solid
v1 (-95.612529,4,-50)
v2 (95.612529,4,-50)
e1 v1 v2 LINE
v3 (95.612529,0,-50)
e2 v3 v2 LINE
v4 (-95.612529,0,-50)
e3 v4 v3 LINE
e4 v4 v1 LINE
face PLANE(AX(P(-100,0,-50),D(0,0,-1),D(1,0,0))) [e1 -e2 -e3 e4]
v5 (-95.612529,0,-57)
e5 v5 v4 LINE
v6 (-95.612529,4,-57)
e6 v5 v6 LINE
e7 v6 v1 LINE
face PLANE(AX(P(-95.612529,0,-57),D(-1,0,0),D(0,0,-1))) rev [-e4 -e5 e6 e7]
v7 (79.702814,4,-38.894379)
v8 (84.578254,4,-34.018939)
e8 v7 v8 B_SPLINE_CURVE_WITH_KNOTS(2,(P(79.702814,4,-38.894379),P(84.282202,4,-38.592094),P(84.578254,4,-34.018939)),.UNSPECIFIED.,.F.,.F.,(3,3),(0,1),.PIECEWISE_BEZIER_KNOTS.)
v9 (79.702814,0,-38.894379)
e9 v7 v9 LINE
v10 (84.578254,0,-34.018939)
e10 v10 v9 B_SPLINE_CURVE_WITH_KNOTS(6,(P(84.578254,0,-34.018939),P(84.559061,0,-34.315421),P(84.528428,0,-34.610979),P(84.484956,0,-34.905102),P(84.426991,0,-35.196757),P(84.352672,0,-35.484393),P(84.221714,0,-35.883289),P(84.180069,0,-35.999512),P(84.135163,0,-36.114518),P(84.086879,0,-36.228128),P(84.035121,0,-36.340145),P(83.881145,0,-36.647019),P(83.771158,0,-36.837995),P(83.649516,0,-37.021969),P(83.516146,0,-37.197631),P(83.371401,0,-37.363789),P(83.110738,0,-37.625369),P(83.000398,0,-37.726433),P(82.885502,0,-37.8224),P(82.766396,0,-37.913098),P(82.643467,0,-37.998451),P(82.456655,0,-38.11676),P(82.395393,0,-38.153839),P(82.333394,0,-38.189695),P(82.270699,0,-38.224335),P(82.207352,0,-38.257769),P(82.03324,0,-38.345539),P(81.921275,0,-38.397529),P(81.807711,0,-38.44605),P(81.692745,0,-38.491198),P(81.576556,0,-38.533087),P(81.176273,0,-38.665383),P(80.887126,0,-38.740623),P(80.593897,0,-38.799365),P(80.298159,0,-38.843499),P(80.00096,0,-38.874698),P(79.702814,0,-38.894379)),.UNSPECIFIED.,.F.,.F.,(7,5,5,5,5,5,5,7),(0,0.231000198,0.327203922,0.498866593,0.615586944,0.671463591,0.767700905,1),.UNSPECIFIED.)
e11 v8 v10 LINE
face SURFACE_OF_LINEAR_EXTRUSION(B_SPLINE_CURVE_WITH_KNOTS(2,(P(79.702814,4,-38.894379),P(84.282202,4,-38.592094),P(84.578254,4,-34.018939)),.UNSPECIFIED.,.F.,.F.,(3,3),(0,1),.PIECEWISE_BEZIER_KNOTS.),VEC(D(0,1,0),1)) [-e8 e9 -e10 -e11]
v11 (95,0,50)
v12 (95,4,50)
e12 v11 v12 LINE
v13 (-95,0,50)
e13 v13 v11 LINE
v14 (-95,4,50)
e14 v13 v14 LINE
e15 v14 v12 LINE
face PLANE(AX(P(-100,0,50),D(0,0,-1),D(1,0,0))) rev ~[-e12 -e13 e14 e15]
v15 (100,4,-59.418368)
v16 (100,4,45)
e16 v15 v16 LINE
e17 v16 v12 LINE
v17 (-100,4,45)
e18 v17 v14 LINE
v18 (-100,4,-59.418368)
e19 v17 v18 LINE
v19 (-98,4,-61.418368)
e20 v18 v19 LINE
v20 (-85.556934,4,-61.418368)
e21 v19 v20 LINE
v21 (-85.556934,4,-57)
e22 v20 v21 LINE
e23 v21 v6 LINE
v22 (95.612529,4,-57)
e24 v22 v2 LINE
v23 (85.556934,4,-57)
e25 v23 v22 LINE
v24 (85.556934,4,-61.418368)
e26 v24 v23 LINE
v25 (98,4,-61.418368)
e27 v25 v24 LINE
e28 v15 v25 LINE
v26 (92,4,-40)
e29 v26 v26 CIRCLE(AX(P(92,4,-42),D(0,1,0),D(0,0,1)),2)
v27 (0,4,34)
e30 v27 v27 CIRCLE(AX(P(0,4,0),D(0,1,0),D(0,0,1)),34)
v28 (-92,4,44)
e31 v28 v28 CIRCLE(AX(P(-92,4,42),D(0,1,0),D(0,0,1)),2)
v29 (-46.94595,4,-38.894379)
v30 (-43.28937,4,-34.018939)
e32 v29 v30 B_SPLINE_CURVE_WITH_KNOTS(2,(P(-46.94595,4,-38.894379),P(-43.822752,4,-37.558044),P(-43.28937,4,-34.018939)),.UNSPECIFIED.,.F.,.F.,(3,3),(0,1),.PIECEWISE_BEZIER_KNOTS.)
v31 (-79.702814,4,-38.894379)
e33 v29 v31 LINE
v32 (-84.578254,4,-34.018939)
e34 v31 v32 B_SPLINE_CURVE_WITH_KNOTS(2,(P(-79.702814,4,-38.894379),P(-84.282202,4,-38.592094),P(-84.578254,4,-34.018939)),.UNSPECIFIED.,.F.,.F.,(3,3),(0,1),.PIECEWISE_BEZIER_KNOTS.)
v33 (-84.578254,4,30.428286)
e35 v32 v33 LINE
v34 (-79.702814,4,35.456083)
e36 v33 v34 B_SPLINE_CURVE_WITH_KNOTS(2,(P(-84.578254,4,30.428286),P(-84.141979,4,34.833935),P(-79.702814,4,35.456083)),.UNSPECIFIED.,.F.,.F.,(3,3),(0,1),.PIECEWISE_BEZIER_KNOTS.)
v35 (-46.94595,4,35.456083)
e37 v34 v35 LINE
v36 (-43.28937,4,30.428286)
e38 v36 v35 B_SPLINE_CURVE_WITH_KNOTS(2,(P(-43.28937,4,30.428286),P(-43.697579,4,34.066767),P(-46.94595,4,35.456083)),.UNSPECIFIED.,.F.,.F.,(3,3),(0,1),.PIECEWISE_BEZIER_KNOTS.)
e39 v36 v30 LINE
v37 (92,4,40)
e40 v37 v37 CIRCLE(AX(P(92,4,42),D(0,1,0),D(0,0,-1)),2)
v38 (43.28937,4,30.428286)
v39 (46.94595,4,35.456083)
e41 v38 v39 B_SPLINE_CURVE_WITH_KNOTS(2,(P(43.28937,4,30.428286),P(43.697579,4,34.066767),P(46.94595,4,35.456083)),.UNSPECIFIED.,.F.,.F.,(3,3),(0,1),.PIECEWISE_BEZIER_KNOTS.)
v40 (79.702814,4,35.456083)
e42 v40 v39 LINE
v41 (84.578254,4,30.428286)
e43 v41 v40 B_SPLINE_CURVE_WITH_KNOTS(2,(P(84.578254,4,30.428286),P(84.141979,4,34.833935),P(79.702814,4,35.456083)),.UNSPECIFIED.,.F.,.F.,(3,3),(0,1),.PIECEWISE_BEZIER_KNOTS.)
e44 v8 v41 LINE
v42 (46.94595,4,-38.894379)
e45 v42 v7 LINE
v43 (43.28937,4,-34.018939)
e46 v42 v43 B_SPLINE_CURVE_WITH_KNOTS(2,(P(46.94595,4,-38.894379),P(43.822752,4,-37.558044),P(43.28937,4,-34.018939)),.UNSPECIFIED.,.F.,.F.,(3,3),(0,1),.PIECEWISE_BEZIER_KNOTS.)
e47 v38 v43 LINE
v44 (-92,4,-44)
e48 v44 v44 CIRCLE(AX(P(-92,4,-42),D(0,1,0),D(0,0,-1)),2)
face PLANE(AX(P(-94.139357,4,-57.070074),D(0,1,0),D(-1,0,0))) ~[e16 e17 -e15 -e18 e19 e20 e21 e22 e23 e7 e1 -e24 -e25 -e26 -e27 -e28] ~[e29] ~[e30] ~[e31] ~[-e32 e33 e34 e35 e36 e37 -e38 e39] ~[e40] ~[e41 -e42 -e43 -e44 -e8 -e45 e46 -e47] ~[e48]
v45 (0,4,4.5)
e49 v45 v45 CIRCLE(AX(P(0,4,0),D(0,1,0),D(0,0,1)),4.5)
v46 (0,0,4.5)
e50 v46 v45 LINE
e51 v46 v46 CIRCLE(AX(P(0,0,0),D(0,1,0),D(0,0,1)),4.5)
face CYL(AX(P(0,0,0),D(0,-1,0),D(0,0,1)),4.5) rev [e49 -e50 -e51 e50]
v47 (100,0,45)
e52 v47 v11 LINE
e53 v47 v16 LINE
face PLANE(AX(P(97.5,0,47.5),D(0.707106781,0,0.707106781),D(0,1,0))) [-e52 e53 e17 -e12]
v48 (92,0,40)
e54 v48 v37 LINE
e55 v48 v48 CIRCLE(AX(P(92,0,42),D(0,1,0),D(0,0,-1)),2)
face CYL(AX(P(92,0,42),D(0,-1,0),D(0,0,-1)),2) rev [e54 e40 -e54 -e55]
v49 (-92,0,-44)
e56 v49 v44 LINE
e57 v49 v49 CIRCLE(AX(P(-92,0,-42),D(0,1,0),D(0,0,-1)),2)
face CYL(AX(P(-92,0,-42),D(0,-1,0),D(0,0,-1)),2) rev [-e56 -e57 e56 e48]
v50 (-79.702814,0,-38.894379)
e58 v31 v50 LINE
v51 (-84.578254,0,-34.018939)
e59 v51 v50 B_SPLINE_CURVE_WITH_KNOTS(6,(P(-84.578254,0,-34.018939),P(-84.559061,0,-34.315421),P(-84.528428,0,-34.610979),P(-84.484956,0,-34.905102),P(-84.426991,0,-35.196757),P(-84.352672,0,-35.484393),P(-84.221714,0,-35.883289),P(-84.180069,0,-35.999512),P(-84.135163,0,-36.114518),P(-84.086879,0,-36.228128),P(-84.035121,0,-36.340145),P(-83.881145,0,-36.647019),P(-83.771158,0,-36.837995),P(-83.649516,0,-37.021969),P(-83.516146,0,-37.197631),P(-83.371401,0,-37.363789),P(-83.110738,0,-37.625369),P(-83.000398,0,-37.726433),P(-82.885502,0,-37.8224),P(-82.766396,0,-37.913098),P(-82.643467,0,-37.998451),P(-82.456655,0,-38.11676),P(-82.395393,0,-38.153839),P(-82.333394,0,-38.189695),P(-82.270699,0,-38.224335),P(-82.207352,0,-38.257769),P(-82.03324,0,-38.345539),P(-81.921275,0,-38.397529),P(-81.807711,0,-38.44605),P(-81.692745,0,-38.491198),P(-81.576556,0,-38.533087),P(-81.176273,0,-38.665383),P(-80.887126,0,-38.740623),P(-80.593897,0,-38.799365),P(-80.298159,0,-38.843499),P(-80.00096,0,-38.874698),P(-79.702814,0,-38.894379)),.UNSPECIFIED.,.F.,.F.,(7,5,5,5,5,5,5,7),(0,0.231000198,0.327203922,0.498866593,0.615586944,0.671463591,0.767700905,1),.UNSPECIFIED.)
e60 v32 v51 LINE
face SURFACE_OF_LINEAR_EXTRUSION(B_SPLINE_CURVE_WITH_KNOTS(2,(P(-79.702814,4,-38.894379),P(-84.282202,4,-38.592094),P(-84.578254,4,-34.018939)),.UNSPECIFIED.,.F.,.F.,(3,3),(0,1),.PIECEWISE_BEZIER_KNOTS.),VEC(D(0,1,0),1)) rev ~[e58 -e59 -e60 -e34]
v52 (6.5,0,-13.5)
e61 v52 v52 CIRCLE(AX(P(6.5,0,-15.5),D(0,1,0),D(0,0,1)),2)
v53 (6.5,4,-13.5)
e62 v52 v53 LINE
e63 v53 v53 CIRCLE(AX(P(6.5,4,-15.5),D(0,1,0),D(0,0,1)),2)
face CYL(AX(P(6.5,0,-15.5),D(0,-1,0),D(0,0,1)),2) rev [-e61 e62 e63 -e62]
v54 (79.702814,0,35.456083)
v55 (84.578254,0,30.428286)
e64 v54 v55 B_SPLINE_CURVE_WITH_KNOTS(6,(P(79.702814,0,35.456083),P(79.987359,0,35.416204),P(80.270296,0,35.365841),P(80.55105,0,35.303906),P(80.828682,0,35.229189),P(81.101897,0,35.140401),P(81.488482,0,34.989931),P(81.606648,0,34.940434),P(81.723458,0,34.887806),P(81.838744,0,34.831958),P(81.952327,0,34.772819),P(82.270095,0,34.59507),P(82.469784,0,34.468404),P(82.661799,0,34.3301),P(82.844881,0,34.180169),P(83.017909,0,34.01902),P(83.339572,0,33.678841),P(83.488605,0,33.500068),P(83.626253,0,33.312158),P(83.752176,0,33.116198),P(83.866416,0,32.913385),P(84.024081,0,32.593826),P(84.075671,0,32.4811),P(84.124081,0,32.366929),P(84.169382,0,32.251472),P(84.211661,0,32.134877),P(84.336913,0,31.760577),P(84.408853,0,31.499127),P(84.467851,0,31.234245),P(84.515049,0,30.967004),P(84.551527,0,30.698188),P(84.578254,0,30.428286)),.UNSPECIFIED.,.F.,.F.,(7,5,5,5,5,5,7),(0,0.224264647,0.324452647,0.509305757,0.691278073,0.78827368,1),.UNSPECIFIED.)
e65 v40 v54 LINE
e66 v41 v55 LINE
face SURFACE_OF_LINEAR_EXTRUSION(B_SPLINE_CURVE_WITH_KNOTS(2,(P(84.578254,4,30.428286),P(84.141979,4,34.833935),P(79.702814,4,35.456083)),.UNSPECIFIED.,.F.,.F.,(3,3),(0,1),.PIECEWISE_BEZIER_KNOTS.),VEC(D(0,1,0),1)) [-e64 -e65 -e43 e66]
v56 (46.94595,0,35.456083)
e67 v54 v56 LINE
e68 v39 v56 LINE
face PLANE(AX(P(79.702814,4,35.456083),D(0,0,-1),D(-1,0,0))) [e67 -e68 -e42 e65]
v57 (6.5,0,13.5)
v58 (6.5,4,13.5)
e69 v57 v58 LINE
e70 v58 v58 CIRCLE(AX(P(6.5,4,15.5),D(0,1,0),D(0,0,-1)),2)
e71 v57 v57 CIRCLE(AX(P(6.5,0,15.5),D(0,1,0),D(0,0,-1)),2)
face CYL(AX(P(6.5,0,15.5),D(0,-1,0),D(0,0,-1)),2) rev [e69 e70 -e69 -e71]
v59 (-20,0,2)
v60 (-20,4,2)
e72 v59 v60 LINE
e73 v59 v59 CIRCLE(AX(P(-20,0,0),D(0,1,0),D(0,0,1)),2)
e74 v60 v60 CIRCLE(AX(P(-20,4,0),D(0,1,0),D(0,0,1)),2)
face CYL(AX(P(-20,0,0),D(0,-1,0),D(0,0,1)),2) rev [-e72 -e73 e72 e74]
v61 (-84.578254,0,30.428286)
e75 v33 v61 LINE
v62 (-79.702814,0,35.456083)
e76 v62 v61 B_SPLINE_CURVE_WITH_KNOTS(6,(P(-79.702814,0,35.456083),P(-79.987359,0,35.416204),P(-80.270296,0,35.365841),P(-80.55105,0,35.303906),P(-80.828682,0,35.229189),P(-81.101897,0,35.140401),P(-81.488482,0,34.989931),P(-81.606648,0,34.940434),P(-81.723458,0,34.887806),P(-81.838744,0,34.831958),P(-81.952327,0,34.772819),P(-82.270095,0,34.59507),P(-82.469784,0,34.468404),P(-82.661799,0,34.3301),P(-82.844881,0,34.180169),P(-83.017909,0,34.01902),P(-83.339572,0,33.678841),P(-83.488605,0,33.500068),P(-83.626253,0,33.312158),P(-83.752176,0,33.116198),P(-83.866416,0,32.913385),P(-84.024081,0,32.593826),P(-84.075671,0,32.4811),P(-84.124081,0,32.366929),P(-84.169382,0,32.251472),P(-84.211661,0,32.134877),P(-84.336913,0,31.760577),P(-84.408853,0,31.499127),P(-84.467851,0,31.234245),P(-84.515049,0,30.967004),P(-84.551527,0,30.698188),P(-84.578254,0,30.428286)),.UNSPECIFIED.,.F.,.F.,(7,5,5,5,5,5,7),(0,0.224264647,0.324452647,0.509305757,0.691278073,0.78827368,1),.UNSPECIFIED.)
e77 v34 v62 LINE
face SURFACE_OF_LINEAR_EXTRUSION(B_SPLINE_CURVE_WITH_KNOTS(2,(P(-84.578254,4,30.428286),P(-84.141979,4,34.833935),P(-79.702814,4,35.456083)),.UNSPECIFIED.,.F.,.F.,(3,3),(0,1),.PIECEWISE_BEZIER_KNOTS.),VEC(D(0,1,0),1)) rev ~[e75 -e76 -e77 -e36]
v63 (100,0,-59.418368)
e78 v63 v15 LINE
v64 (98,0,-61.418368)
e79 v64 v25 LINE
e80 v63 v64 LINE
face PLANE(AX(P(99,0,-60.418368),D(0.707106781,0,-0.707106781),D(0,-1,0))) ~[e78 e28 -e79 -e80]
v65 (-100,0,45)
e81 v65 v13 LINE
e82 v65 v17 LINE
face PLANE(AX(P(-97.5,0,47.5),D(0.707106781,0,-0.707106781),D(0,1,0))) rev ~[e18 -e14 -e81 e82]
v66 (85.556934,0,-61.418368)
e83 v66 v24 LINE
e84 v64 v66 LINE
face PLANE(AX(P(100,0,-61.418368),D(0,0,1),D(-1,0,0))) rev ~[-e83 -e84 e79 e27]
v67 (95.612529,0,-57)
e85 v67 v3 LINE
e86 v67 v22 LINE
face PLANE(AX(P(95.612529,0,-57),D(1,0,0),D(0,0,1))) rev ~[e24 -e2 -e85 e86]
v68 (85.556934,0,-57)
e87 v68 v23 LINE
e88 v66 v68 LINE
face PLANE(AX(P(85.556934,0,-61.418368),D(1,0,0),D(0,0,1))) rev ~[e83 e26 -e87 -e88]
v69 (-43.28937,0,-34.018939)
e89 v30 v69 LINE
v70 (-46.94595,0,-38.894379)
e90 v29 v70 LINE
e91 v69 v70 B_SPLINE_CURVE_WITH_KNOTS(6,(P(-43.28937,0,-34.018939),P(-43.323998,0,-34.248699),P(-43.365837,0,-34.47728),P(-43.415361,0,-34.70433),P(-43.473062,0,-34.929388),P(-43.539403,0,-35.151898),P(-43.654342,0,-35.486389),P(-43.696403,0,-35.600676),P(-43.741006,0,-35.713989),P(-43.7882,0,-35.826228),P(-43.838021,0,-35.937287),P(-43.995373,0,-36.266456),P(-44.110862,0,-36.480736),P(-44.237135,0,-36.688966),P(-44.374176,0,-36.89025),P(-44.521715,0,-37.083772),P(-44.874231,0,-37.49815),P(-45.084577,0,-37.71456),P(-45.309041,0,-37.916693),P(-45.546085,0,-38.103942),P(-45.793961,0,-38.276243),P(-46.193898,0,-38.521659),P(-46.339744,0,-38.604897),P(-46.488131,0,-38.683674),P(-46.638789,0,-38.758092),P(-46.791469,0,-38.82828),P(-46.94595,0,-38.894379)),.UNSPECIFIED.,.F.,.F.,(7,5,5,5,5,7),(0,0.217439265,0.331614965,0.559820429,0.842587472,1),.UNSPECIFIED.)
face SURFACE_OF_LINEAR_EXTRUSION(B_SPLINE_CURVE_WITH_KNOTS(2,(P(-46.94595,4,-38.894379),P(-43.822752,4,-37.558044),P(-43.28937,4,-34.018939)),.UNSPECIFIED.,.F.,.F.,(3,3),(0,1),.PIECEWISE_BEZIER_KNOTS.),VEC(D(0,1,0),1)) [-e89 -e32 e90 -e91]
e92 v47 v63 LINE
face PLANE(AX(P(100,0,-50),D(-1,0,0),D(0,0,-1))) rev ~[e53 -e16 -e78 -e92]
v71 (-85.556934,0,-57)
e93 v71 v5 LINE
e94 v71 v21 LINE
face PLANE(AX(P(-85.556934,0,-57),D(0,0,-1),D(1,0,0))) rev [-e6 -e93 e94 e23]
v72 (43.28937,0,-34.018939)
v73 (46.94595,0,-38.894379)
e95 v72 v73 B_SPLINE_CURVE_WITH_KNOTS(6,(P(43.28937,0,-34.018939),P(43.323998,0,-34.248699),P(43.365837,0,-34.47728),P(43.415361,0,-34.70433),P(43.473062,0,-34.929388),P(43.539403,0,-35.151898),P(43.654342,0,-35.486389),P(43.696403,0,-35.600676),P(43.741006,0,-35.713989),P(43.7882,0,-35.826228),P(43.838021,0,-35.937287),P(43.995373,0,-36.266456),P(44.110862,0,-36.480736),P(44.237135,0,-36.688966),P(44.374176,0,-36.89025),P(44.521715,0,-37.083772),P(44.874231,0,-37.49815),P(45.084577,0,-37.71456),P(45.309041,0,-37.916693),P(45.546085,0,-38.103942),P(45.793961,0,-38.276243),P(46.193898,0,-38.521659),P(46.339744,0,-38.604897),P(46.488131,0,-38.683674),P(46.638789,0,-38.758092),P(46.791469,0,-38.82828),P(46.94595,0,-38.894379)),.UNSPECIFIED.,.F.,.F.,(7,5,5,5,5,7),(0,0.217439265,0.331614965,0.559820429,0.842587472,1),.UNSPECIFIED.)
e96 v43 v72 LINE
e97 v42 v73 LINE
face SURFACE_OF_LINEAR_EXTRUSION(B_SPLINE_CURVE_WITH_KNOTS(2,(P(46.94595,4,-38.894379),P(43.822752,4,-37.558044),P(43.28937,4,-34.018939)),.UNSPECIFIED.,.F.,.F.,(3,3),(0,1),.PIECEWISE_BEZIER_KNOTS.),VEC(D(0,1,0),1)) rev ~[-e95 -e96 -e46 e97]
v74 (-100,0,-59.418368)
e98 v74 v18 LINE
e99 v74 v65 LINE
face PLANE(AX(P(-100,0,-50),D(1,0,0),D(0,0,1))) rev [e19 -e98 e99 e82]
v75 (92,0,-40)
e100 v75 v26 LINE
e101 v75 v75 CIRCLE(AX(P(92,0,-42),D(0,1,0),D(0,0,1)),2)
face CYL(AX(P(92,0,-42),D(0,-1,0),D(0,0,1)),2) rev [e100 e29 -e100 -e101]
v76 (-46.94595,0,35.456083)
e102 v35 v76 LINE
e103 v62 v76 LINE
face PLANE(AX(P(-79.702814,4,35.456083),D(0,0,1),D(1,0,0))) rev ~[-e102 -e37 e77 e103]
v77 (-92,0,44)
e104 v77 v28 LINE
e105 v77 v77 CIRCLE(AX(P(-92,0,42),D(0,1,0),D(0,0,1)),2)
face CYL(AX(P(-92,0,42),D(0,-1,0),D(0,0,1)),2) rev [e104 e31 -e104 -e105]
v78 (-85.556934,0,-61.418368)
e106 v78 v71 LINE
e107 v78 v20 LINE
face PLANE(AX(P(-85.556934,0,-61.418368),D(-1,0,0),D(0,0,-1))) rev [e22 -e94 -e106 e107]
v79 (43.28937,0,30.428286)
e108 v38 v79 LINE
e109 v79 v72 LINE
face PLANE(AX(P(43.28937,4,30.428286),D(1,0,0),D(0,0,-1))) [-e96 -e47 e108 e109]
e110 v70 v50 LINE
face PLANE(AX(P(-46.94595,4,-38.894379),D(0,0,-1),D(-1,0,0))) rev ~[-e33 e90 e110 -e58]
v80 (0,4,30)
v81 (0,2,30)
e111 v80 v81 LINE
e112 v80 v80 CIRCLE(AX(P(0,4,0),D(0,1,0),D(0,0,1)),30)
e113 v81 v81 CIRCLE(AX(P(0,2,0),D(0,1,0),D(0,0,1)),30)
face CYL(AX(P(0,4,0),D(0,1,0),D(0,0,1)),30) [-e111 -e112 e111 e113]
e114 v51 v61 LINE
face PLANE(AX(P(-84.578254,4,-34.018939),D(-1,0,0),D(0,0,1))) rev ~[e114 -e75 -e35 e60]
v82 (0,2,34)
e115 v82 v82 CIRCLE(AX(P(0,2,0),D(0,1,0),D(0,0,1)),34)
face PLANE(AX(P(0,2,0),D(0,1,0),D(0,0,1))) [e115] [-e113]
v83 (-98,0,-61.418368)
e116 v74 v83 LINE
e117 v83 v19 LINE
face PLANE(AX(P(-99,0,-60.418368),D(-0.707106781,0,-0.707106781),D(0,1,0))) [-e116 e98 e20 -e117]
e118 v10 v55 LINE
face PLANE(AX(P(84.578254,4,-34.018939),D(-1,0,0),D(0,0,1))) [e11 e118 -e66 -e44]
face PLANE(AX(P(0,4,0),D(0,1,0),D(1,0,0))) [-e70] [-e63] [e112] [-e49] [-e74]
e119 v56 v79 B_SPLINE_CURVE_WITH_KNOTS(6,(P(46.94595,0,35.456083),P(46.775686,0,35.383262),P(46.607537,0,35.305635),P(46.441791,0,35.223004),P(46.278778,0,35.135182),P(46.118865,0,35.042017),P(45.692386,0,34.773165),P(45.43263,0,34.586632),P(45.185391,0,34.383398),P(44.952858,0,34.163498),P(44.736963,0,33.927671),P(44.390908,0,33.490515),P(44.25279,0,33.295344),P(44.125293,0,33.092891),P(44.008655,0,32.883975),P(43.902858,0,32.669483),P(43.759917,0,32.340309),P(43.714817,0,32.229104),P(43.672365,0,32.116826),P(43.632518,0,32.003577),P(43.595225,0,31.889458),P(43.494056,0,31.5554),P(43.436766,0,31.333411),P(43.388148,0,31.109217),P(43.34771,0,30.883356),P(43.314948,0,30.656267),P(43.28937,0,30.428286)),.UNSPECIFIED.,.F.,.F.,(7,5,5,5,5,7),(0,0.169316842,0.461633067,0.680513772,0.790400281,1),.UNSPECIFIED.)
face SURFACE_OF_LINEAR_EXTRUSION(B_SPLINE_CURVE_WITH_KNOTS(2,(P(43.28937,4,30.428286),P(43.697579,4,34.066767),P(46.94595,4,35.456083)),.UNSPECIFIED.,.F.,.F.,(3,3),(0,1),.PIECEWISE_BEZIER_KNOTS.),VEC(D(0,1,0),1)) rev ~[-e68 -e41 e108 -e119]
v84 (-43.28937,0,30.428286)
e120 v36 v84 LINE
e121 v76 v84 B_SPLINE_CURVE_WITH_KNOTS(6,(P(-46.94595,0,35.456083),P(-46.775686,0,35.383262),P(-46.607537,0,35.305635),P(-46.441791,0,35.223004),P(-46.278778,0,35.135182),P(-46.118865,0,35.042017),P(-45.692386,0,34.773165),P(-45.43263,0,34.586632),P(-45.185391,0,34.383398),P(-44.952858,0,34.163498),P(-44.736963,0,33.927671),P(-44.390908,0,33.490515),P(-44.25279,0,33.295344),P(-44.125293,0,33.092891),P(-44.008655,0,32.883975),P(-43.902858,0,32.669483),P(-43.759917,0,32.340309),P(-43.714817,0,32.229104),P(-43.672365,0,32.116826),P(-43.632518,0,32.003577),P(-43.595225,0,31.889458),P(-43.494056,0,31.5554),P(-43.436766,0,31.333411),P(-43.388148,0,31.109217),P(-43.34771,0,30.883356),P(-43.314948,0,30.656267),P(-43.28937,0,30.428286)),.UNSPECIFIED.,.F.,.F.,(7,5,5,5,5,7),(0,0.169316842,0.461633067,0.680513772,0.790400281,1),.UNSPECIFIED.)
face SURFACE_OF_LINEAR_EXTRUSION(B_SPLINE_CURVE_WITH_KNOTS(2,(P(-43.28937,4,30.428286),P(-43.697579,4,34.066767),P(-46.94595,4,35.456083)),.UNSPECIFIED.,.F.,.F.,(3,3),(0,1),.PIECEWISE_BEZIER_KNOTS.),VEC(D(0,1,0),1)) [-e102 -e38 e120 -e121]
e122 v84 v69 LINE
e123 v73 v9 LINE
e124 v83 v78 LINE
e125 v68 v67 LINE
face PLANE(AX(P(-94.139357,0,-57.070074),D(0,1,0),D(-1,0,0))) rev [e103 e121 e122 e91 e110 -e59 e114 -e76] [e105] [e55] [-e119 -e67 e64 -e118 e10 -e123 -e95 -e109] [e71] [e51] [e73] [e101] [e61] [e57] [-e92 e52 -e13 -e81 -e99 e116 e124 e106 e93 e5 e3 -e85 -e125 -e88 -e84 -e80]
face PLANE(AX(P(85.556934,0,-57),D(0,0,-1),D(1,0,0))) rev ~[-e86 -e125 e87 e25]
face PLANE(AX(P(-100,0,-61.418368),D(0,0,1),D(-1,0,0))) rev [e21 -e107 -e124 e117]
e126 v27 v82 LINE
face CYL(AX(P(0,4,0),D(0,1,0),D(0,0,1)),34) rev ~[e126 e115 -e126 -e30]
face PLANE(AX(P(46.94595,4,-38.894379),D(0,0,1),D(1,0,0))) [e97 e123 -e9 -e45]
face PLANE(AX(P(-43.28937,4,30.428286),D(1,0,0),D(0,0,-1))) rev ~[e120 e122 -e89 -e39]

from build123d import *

# Parameters (mm, degrees)
ESQUISSE2_W             = 200
ESQUISSE2_H             = 100
ESQUISSE2_R             = 4.5
ESQUISSE2_R_2           = 2
BOSS_EXTRU_1_DEPTH      = 4
ESQUISSE3_R             = 34
ESQUISSE3_R_2           = 30
ENL_V_MAT_EXTRU_1_DEPTH = 2
ENL_V_MAT_EXTRU_2_DEPTH = 10
BOSS_EXTRU_2_DEPTH      = 4
CHANFREIN1_SIZE         = 5
CHANFREIN2_SIZE         = 2


with BuildPart() as part:
    # Esquisse2 → Boss.-Extru.1 (new body)
    with BuildSketch(Plane(origin=(0, 0, 0), x_dir=(1, 0, 0), z_dir=(0, 1, 0))):
        Rectangle(ESQUISSE2_W, ESQUISSE2_H)
        with Locations(Location((0, 0, 0), (0, 0, 270))):
            Circle(ESQUISSE2_R, mode=Mode.SUBTRACT)
        with Locations(Location((6.5, 15.5, 0), (0, 0, 270))):
            Circle(ESQUISSE2_R_2, mode=Mode.SUBTRACT)
        with Locations(Location((6.5, -15.5, 0), (0, 0, 90))):
            Circle(ESQUISSE2_R_2, mode=Mode.SUBTRACT)
        with Locations(Location((-20, 0, 0), (0, 0, 270))):
            Circle(ESQUISSE2_R_2, mode=Mode.SUBTRACT)
        with Locations(Location((92, 42, 0), (0, 0, 270))):
            Circle(ESQUISSE2_R_2, mode=Mode.SUBTRACT)
        with Locations(Location((-92, 42, 0), (0, 0, 90))):
            Circle(ESQUISSE2_R_2, mode=Mode.SUBTRACT)
        with Locations(Location((-92, -42, 0), (0, 0, 270))):
            Circle(ESQUISSE2_R_2, mode=Mode.SUBTRACT)
        with Locations(Location((92, -42, 0), (0, 0, 90))):
            Circle(ESQUISSE2_R_2, mode=Mode.SUBTRACT)
    extrude(amount=BOSS_EXTRU_1_DEPTH)

    # Esquisse3 → Enlèv. mat.-Extru.1 (cut)
    with BuildSketch(Plane(origin=(0, 4, 0), x_dir=(1, 0, 0), z_dir=(0, 1, 0))):
        with Locations(Location((0, 0, 0), (0, 0, 270))):
            Circle(ESQUISSE3_R)
        with Locations(Location((0, 0, 0), (0, 0, 270))):
            Circle(ESQUISSE3_R_2, mode=Mode.SUBTRACT)
    extrude(amount=-ENL_V_MAT_EXTRU_1_DEPTH, mode=Mode.SUBTRACT)

    # Esquisse4 → Enlèv. mat.-Extru.2 (cut)
    with BuildSketch(Plane(origin=(0, 4, 0), x_dir=(1, 0, 0), z_dir=(0, 1, 0))):
        with BuildLine():
            Line((-84.578253972, 34.018938554), (-84.578253972, -30.428285652))
            add(Edge.make_bspline(
                [(-84.578253972, -30.428285652), (-84.141978558, -34.833934515), (-79.702813843, -35.456083285)],
                knots=[0, 0, 0, 1, 1, 1], degree=2))
            Line((-79.702813843, -35.456083285), (-46.945950476, -35.456083285))
            add(Edge.make_bspline(
                [(-43.289370379, -30.428285652), (-43.697579242, -34.066767069), (-46.945950476, -35.456083285)],
                knots=[0, 0, 0, 1, 1, 1], degree=2))
            Line((-43.289370379, -30.428285652), (-43.289370379, 34.018938554))
            add(Edge.make_bspline(
                [(-46.945950476, 38.894378683), (-43.822752081, 37.558044403), (-43.289370379, 34.018938554)],
                knots=[0, 0, 0, 1, 1, 1], degree=2))
            Line((-46.945950476, 38.894378683), (-79.702813843, 38.894378683))
            add(Edge.make_bspline(
                [(-79.702813843, 38.894378683), (-84.282201555, 38.592094199), (-84.578253972, 34.018938554)],
                knots=[0, 0, 0, 1, 1, 1], degree=2))
        make_face()
        with BuildLine():
            Line((79.702813843, -35.456083285), (46.945950476, -35.456083285))
            add(Edge.make_bspline(
                [(43.289370379, -30.428285652), (43.697579242, -34.066767069), (46.945950476, -35.456083285)],
                knots=[0, 0, 0, 1, 1, 1], degree=2))
            Line((43.289370379, -30.428285652), (43.289370379, 34.018938554))
            add(Edge.make_bspline(
                [(46.945950476, 38.894378683), (43.822752081, 37.558044403), (43.289370379, 34.018938554)],
                knots=[0, 0, 0, 1, 1, 1], degree=2))
            Line((46.945950476, 38.894378683), (79.702813843, 38.894378683))
            add(Edge.make_bspline(
                [(79.702813843, 38.894378683), (84.282201555, 38.592094199), (84.578253972, 34.018938554)],
                knots=[0, 0, 0, 1, 1, 1], degree=2))
            Line((84.578253972, 34.018938554), (84.578253972, -30.428285652))
            add(Edge.make_bspline(
                [(84.578253972, -30.428285652), (84.141978558, -34.833934515), (79.702813843, -35.456083285)],
                knots=[0, 0, 0, 1, 1, 1], degree=2))
        make_face()
    extrude(amount=-ENL_V_MAT_EXTRU_2_DEPTH, mode=Mode.SUBTRACT)

    # Esquisse5 → Boss.-Extru.2 (add)
    with BuildSketch(Plane.XZ):
        Polygon((100, -50), (100, -61.418367617), (85.556933512, -61.418367617), (85.556933512, -57), (95.612528779, -57), (95.612528779, -50), align=None)
    boss_extru_2 = extrude(amount=-BOSS_EXTRU_2_DEPTH)

    # Symétrie1: Boss.-Extru.2 across plane
    add(boss_extru_2.mirror(Plane(origin=(0, 0, 0), x_dir=(0, 0, 1), z_dir=(1, 0, 0))))

    # Chanfrein1
    chanfrein1_edges = [part.edges().sort_by_distance(p)[0] for p in [
        (100, 2, 50),
        (-100, 2, 50),
    ]]
    chamfer(chanfrein1_edges, length=CHANFREIN1_SIZE)

    # Chanfrein2
    chanfrein2_edges = [part.edges().sort_by_distance(p)[0] for p in [
        (100, 2, -61.418367617),
        (-100, 2, -61.418367617),
    ]]
    chamfer(chanfrein2_edges, length=CHANFREIN2_SIZE)


solid = part.part
